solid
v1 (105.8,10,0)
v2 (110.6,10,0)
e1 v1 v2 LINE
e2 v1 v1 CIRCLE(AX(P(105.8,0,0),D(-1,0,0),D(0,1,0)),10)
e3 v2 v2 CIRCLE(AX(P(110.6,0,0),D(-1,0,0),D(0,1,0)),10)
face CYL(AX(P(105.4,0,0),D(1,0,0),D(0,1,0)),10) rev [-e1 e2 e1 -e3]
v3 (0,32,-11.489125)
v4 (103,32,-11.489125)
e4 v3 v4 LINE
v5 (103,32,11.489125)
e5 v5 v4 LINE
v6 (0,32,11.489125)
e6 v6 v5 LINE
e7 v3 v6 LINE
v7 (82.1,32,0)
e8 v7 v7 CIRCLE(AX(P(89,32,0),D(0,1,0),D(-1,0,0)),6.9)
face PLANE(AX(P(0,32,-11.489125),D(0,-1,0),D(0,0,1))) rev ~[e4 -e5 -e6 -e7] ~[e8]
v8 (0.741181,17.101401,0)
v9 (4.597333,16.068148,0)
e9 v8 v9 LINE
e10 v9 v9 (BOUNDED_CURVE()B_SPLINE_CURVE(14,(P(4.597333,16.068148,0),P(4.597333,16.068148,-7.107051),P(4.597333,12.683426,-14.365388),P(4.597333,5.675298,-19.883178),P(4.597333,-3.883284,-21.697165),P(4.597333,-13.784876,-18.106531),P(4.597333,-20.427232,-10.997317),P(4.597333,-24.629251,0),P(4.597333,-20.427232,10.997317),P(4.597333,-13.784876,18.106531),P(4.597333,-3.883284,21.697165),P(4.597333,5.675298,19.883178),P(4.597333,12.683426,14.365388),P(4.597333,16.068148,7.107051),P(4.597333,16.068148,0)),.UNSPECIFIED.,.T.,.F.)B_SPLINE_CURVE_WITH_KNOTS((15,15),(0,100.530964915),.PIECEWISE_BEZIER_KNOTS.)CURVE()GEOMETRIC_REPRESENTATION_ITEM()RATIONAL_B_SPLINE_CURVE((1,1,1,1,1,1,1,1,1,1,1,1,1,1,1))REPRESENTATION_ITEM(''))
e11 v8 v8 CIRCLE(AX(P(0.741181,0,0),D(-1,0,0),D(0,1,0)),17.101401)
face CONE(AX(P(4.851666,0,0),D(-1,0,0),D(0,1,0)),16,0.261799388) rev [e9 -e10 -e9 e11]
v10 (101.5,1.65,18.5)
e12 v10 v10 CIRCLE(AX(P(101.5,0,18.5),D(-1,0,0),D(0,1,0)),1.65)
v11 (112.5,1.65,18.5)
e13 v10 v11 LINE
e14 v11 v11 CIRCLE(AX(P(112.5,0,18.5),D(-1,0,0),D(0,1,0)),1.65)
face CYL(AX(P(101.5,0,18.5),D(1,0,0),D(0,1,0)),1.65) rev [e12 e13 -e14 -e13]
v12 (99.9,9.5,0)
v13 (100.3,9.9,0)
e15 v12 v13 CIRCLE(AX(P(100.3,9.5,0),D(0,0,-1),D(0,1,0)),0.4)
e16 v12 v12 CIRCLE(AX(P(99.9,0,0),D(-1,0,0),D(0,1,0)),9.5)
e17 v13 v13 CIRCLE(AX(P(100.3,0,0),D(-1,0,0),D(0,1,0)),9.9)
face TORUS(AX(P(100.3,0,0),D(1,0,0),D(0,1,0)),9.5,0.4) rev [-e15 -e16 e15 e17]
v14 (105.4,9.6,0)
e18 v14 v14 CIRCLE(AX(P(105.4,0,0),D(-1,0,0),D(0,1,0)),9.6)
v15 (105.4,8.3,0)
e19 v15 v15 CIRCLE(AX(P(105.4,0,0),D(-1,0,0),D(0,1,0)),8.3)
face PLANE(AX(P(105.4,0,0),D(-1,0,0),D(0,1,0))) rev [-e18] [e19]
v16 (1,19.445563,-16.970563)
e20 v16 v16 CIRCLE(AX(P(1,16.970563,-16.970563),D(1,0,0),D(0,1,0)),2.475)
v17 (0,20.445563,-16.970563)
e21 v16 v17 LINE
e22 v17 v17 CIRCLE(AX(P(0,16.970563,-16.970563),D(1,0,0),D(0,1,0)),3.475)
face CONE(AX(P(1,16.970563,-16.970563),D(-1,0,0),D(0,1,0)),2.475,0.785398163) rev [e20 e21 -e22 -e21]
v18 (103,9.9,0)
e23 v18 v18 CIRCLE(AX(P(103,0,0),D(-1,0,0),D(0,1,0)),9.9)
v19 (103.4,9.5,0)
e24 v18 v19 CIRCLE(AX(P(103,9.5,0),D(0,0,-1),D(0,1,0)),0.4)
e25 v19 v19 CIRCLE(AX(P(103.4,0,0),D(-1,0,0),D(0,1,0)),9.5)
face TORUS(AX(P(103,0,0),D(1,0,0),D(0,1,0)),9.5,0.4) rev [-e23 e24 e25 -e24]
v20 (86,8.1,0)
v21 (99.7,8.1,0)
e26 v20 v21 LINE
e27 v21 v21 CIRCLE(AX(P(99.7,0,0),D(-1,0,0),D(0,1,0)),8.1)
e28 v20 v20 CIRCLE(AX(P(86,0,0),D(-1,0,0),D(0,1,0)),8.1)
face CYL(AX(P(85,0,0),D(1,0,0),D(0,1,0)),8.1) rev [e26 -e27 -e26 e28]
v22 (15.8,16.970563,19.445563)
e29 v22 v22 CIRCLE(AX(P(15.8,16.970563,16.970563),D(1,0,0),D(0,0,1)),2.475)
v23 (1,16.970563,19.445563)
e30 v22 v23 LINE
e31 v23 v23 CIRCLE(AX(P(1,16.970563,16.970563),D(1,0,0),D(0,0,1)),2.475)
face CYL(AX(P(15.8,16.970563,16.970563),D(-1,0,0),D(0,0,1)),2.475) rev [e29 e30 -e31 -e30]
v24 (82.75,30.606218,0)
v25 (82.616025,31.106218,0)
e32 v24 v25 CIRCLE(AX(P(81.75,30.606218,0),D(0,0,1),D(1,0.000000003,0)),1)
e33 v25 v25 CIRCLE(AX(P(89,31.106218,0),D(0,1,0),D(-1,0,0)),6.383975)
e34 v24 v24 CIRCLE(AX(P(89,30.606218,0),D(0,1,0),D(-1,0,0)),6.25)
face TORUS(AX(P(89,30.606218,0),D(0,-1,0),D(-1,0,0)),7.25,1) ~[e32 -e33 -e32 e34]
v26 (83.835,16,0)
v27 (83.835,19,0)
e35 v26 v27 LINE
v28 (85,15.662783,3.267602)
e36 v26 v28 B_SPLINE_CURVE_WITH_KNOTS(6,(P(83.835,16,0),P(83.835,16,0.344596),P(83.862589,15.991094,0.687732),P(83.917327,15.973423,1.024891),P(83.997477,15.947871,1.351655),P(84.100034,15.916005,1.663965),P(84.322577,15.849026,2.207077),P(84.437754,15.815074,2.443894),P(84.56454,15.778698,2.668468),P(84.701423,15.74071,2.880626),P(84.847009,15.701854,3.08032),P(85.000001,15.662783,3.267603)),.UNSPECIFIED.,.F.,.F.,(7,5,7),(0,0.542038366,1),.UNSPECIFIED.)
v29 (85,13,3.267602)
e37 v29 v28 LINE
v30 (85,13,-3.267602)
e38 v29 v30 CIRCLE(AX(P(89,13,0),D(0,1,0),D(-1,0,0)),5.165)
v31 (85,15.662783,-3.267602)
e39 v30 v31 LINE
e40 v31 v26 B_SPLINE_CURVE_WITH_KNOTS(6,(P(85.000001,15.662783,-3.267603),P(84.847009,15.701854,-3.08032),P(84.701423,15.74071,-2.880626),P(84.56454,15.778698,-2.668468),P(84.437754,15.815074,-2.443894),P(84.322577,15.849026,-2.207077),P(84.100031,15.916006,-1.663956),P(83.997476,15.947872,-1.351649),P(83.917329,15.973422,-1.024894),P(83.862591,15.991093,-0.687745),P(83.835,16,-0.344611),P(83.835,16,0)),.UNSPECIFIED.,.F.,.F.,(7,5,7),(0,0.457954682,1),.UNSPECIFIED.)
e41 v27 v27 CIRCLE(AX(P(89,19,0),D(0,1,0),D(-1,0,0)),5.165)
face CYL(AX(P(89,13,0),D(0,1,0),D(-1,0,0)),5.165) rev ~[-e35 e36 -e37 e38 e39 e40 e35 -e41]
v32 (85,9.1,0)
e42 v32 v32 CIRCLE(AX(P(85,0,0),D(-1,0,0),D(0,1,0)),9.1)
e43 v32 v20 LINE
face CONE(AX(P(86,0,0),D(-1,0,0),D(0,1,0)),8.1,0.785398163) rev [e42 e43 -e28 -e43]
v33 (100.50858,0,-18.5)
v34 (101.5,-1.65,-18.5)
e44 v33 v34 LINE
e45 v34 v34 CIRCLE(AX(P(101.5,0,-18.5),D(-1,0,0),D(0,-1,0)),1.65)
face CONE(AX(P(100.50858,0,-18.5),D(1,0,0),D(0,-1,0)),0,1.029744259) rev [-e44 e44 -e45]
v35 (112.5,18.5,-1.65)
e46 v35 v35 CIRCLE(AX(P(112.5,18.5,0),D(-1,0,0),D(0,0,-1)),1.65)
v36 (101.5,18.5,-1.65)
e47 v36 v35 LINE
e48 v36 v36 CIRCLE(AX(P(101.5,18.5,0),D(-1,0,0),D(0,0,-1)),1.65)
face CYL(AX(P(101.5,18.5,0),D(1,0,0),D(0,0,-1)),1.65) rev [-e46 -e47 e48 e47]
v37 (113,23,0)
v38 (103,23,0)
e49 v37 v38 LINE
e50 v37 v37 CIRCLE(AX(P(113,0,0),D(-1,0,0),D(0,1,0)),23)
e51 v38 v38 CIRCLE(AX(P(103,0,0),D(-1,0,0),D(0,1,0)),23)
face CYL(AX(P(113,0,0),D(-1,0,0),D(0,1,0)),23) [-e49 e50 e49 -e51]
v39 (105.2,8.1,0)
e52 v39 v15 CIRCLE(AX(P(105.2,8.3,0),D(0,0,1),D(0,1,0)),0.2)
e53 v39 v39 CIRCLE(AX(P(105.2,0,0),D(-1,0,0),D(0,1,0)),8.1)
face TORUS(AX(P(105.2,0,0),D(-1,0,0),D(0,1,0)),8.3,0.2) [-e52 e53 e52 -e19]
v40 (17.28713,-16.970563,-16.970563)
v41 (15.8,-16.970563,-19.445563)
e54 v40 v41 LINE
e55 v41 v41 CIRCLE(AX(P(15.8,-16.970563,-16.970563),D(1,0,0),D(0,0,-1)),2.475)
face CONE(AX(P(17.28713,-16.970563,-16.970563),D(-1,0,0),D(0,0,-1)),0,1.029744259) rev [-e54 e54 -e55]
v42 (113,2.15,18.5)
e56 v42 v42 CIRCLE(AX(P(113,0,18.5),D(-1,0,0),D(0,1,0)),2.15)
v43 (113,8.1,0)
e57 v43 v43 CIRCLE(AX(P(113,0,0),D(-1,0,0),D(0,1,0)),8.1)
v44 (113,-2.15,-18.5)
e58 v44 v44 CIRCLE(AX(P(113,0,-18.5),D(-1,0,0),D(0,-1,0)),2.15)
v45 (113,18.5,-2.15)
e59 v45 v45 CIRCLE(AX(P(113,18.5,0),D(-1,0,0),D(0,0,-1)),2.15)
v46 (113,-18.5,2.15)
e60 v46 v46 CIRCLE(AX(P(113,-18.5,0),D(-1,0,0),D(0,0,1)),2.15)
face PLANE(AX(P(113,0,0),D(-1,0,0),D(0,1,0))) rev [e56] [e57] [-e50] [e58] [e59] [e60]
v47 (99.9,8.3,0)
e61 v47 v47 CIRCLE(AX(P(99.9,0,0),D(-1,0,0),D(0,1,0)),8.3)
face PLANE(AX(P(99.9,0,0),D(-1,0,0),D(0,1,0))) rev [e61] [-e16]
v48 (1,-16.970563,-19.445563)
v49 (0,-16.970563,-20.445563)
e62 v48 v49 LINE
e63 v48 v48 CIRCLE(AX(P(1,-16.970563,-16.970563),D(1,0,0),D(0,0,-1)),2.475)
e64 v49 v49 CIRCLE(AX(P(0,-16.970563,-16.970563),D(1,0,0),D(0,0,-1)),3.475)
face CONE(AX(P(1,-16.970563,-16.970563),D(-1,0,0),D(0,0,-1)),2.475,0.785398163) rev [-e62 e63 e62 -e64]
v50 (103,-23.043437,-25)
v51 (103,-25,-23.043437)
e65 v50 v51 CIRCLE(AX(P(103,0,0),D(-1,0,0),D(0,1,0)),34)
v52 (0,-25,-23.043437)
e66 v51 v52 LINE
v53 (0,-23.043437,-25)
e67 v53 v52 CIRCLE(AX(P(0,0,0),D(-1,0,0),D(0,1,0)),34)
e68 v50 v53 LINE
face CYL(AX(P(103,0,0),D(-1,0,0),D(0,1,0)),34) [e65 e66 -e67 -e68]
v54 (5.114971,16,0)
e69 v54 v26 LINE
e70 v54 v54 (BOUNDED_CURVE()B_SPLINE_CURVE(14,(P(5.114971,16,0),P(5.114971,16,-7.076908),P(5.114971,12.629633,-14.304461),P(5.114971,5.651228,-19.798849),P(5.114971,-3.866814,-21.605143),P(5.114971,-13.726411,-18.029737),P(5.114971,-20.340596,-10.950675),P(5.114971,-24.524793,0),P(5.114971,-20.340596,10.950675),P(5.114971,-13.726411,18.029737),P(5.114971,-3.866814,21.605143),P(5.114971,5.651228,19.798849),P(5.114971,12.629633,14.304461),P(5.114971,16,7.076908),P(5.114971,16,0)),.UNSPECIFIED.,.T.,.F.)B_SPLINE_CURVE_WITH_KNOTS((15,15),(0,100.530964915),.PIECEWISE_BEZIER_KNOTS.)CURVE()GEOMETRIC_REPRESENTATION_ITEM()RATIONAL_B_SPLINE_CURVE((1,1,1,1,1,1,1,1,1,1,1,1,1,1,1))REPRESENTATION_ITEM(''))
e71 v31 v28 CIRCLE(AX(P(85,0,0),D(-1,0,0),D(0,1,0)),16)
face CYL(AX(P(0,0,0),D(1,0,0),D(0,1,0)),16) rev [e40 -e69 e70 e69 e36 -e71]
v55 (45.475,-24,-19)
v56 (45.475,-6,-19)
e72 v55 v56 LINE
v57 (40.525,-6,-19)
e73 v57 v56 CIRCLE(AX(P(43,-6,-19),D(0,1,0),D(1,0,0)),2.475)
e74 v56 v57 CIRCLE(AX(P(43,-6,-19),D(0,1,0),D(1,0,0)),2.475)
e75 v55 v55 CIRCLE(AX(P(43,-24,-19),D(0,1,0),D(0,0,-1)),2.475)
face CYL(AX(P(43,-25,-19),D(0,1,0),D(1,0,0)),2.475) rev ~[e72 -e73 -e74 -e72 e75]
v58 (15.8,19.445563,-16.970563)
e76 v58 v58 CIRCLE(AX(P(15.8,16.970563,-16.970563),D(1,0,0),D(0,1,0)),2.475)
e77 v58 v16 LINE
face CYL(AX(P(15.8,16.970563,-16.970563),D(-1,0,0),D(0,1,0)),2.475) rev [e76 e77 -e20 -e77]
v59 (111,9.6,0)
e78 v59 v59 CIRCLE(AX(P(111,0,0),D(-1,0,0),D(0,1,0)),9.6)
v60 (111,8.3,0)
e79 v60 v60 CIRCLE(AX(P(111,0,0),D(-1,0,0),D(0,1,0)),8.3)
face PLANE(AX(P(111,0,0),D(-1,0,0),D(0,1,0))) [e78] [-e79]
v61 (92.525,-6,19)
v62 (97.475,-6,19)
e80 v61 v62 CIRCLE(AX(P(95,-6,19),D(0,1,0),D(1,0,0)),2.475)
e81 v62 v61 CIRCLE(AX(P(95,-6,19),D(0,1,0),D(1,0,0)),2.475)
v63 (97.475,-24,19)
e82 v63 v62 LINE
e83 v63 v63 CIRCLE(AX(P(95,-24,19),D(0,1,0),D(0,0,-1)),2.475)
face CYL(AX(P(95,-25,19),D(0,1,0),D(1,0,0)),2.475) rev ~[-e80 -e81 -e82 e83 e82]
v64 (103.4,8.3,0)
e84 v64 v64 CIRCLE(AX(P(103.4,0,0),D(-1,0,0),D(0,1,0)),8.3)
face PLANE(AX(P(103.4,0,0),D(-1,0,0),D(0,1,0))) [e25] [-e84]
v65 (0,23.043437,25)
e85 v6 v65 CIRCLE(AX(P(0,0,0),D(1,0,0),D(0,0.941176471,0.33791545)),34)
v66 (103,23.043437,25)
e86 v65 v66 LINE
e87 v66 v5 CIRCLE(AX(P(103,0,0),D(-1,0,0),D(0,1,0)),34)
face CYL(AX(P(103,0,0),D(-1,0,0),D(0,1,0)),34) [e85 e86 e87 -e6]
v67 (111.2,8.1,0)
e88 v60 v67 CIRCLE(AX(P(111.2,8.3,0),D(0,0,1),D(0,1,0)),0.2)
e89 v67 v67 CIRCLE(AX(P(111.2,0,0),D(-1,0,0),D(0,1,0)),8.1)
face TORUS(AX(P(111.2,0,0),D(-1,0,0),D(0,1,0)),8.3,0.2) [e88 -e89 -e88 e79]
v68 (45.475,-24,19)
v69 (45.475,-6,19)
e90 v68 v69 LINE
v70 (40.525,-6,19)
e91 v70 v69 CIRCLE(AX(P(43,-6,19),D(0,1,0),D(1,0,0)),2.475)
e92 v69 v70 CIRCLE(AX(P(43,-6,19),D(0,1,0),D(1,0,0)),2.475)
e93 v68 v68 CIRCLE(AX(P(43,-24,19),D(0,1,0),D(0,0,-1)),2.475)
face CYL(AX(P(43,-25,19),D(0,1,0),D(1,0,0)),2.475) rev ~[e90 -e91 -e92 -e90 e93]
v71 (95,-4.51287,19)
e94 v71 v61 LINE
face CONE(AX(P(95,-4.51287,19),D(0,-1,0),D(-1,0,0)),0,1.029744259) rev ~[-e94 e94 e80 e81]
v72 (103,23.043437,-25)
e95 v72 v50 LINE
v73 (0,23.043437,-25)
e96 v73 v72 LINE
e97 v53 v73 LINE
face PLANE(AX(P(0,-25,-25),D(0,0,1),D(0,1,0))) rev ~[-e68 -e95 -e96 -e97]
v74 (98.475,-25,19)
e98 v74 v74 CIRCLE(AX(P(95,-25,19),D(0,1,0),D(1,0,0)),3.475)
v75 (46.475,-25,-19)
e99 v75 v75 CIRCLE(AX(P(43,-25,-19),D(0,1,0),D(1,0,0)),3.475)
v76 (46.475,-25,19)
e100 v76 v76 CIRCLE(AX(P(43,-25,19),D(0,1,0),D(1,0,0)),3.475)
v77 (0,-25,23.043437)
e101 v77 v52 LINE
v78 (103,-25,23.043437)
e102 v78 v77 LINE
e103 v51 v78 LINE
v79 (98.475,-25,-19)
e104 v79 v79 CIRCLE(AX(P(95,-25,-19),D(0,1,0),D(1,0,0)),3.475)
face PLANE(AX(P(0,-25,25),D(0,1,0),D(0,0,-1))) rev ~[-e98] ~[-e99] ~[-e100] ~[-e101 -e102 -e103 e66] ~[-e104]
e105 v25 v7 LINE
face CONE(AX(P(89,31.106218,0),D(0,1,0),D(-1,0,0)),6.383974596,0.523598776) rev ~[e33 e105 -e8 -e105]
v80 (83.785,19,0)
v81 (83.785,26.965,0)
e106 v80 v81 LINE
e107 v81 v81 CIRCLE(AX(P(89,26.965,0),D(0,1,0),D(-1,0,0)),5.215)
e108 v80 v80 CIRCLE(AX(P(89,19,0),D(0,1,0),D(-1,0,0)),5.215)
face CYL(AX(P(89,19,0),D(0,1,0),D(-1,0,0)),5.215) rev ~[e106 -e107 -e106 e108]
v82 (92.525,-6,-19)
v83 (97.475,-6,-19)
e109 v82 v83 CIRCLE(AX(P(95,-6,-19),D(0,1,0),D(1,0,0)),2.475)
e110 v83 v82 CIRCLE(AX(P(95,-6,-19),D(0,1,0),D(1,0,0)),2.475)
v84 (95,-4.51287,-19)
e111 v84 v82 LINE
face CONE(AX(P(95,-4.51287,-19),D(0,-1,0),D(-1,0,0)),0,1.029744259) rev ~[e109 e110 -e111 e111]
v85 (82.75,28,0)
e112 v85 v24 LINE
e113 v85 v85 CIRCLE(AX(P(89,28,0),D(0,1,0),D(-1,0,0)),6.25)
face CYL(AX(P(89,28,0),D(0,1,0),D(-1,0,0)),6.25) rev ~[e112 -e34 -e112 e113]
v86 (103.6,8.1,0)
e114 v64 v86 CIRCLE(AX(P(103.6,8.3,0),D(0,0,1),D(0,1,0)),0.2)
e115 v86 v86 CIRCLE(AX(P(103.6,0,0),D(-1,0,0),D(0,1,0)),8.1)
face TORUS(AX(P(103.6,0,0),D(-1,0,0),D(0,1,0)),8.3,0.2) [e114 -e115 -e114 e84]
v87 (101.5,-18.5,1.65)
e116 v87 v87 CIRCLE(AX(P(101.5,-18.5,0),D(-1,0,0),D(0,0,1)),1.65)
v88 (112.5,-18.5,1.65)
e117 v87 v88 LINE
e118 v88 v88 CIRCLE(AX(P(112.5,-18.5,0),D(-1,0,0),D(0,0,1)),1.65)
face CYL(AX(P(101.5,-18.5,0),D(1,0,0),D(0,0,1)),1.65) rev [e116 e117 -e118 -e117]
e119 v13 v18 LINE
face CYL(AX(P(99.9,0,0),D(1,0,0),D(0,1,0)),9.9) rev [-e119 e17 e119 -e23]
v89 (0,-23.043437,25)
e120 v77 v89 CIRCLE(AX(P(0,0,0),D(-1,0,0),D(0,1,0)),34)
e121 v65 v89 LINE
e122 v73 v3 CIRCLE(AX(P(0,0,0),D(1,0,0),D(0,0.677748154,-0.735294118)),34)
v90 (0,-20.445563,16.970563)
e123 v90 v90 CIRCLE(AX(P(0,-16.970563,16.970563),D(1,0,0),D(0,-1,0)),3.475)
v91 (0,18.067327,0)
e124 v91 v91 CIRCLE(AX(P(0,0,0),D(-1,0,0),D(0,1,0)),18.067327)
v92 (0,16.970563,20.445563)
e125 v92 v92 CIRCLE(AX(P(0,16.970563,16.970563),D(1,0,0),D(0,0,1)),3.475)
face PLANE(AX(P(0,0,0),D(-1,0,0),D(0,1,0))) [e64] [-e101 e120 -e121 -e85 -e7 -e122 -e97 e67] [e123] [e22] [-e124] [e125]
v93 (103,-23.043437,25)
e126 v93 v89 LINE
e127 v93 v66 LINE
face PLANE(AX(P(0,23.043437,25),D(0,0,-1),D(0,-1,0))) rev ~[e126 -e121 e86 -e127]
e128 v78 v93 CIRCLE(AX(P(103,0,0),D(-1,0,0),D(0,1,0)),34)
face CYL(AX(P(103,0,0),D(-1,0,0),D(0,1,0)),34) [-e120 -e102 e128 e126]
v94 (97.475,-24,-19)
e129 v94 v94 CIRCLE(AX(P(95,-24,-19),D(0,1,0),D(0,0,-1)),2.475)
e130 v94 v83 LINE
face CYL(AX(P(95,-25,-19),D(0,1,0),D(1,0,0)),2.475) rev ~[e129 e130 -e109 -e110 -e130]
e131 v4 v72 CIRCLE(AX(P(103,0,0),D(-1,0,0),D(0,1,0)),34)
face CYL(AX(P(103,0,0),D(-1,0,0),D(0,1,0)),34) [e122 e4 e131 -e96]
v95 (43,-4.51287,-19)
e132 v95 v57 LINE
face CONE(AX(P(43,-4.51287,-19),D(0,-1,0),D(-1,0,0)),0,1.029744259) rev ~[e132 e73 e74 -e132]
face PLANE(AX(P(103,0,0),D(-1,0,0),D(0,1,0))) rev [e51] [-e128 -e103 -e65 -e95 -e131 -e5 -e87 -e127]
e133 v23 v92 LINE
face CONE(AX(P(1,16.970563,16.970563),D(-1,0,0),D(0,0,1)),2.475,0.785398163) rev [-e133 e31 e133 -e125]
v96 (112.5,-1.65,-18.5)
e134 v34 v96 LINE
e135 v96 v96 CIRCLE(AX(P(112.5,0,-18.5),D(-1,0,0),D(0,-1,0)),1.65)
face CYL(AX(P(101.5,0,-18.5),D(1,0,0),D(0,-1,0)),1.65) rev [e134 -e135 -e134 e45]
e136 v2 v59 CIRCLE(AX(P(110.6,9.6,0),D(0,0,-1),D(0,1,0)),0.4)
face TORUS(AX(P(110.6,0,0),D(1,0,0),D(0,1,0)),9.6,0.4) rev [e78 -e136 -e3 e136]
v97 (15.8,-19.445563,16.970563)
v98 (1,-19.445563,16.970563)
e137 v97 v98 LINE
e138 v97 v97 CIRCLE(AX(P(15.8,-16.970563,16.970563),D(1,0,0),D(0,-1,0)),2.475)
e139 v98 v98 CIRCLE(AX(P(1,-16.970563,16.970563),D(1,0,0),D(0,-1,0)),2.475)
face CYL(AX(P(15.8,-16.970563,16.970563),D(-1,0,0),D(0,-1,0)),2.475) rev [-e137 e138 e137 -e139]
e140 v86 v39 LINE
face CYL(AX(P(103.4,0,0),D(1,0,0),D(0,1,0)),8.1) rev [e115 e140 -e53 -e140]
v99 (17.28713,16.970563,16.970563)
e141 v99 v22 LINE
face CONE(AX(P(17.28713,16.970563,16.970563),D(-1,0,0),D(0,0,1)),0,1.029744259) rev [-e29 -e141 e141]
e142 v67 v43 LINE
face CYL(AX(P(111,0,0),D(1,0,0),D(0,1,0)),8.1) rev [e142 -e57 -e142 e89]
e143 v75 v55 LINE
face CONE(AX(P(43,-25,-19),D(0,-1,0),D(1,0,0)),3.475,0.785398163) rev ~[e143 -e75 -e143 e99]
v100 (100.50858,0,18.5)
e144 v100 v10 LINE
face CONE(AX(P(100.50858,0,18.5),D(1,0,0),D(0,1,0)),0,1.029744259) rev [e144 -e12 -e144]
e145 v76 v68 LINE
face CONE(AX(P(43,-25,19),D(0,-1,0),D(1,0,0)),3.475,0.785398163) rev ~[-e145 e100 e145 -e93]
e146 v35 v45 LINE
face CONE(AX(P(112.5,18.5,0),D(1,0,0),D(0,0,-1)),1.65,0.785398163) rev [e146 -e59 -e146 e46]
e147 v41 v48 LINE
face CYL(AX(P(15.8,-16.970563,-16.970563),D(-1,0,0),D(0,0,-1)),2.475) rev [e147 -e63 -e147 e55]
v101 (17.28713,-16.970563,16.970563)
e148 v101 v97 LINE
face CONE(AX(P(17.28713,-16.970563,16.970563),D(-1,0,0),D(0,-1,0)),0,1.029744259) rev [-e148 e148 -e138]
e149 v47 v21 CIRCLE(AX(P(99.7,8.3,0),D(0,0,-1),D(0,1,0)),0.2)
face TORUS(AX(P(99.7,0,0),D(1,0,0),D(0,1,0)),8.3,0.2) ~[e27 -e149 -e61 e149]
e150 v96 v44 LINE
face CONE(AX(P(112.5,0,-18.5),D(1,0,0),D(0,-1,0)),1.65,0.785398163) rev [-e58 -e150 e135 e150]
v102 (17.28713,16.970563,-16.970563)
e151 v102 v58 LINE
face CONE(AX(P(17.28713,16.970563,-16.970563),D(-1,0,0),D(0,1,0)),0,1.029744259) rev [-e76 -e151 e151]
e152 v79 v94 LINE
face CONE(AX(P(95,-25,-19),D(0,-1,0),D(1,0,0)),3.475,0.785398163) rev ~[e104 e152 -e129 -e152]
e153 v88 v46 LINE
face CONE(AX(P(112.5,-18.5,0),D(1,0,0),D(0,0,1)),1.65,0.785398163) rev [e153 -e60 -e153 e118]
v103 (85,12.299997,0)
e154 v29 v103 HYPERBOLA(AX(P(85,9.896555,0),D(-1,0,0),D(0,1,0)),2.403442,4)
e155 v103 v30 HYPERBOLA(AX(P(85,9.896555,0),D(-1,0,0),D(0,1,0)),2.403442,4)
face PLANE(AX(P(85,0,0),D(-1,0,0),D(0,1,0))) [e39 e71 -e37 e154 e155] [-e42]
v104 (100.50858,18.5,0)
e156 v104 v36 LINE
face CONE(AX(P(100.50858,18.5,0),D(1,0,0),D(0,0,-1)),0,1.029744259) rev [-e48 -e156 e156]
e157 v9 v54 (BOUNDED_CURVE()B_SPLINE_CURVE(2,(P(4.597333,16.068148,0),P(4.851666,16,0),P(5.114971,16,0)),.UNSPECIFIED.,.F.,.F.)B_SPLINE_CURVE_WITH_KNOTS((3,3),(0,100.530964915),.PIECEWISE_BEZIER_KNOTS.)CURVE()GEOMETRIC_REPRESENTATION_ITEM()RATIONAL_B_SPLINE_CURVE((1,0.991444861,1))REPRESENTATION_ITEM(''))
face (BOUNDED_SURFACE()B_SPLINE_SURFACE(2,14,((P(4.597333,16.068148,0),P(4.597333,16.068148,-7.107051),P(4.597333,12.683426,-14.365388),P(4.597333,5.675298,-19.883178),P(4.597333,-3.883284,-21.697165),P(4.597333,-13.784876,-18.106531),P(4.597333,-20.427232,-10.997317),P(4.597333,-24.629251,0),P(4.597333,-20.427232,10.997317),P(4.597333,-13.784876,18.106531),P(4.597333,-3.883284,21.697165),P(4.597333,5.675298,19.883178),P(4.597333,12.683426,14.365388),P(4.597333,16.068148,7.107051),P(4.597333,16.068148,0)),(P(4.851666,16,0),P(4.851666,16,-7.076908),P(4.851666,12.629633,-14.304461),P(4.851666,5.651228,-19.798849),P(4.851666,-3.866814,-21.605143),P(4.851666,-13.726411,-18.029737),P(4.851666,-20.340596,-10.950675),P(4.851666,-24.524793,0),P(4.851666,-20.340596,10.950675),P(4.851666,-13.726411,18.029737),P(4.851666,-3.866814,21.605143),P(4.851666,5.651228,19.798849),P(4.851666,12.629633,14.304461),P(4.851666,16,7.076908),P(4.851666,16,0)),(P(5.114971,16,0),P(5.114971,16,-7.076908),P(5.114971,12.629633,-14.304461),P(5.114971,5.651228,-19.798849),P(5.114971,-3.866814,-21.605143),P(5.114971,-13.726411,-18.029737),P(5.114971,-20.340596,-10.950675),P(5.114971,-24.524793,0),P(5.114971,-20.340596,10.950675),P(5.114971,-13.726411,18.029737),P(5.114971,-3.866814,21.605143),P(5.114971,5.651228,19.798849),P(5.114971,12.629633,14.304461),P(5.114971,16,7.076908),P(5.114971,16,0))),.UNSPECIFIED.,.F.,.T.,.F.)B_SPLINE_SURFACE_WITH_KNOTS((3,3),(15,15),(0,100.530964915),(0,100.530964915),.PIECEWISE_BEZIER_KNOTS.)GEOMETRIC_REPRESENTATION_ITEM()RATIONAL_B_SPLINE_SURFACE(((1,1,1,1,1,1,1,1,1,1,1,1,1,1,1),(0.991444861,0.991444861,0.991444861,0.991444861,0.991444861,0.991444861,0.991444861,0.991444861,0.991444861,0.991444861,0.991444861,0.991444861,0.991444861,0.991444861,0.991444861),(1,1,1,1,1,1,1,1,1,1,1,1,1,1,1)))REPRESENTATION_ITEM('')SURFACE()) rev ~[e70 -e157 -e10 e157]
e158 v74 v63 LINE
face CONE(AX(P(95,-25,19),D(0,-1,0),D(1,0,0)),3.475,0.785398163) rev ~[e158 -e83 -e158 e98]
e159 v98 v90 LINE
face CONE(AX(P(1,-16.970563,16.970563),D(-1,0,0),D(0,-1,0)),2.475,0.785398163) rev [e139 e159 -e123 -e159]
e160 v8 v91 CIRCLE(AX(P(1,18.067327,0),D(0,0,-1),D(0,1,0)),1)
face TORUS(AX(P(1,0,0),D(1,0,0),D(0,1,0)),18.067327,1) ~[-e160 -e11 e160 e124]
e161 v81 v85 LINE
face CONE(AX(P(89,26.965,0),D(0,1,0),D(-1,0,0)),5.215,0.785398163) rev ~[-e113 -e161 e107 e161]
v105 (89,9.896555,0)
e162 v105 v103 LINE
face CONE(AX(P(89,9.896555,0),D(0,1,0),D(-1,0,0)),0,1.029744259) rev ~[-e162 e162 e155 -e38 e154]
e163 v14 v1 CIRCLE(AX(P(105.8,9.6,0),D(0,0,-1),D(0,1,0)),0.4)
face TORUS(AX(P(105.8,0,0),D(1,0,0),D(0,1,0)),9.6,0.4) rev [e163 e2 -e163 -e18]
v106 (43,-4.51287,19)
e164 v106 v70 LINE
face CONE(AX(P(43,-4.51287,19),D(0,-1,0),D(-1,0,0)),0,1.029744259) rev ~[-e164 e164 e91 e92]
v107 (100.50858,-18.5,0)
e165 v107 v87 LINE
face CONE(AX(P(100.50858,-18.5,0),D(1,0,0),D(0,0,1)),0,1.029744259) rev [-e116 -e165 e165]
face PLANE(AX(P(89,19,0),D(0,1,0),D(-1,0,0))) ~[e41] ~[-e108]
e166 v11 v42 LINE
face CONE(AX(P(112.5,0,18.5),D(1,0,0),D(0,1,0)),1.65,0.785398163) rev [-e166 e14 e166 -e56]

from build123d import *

# Parameters (mm, degrees)
SKETCH_2_OUTSIDE_W          = 99.676
SKETCH_2_OUTSIDE_H          = 99.676
CUT_EXTRUDE_1_DEPTH         = 114
CHAMFER_1_SIZE              = 1.3
CHAMFER_1_SIZE2             = 4.85166605
FILLET_1_R                  = 2
FILLET_2_R                  = 1
PATTERN_CIRCULAR_1_COUNT    = 4
HOLE_WIZARD_M63_D           = 4.95
HOLE_WIZARD_M63_DEPTH       = 19
HOLE_WIZARD_M63_CSINK_D     = 6.95
HOLE_WIZARD_M63_CSINK_ANGLE = 90
HOLE_WIZARD_M63_TIP         = 1.487130032
PATTERN_CIRCULAR_2_COUNT    = 4
CHAMFER_2_SIZE              = 1
FILLET_3_R                  = 0.4
FILLET_4_R                  = 0.2


with BuildPart() as part:
    # Эскиз1 → Повернуть1 (revolve)
    with BuildSketch(Plane.XY):
        Polygon((0, 34), (0, 16), (85, 16), (85, 8.1), (99.9, 8.1), (99.9, 9.9), (103.4, 9.9), (103.4, 8.1), (105.4, 8.1), (105.4, 10), (111, 10), (111, 8.1), (113, 8.1), (113, 23), (103, 23), (103, 34), align=None)
    revolve(axis=Axis((0, 0, 0), (-1, 0, 0)))

    # Эскиз2 outside → Вырез-Вытянуть1 (cut, through all)
    with BuildSketch(Plane.ZY):
        Rectangle(SKETCH_2_OUTSIDE_W, SKETCH_2_OUTSIDE_H)
        with BuildLine():
            Line((-11.489125293, 32), (11.489125293, 32))
            ThreePointArc((11.489125293, 32), (18.786140377, 28.338682569), (25, 23.043437244))
            Line((25, 23.043437244), (25, -25))
            Line((25, -25), (-25, -25))
            Line((-25, -25), (-25, 23.043437244))
            ThreePointArc((-25, 23.043437244), (-18.786140377, 28.338682569), (-11.489125293, 32))
        make_face(mode=Mode.SUBTRACT)
    extrude(amount=-CUT_EXTRUDE_1_DEPTH, mode=Mode.SUBTRACT)

    # Фаска1
    chamfer_1_edges = [part.edges().sort_by_distance(p)[0] for p in [
        (0, -16, 0),
    ]]
    chamfer_1_side = [part.faces().sort_by_distance(p)[0] for p in [
        (0, 31.241778397, 0),
    ]]
    chamfer(chamfer_1_edges, length=CHAMFER_1_SIZE, length2=CHAMFER_1_SIZE2, reference=chamfer_1_side[0])

    # Скругление1
    fillet_1_edges = [part.edges().sort_by_distance(p)[0] for p in [
        (4.85166605, -16, 0),
    ]]
    fillet(fillet_1_edges, radius=FILLET_1_R)

    # Скругление2
    fillet_2_edges = [part.edges().sort_by_distance(p)[0] for p in [
        (0, -17.3, 0),
    ]]
    fillet(fillet_2_edges, radius=FILLET_2_R)

    # Эскиз5 → Отверстие обработанное метчиком M64 (revolve, cut)
    with BuildSketch(Plane(origin=(0, 16.970562748, 16.970562748), x_dir=(0, 0, 1), z_dir=(0, 1, 0))):
        Polygon((0, 0), (0, 17.287130032), (2.475, 15.8), (2.475, 1), (3.475, 0), align=None)
    hole_wizard_m64 = revolve(axis=Axis((-6.35, 16.970562748, 16.970562748), (1, 0, 0)), mode=Mode.SUBTRACT)

    # Круговой массив1: Отверстие обработанное метчиком M64 ×4 about axis
    pattern_circular_1_axis = Axis((0, 0, 0), (1, 0, 0))
    for i in range(1, PATTERN_CIRCULAR_1_COUNT):
        add(hole_wizard_m64.rotate(pattern_circular_1_axis, i * 360 / PATTERN_CIRCULAR_1_COUNT), mode=Mode.SUBTRACT)

    # Отверстие обработанное метчиком M63
    with Locations(Plane(origin=(0, -25, 0), x_dir=(-1, 0, 0), z_dir=(0, -1, 0))):
        with Locations((-95, -19), (-95, 19), (-43, 19), (-43, -19)):
            CounterSinkHole(HOLE_WIZARD_M63_D / 2, HOLE_WIZARD_M63_CSINK_D / 2, depth=HOLE_WIZARD_M63_DEPTH, counter_sink_angle=HOLE_WIZARD_M63_CSINK_ANGLE)
            with Locations((0, 0, -(HOLE_WIZARD_M63_DEPTH + HOLE_WIZARD_M63_TIP / 2))):  # 118° drill point
                Cone(0, HOLE_WIZARD_M63_D / 2, HOLE_WIZARD_M63_TIP, mode=Mode.SUBTRACT)

    # Sketch2 → Cut-Revolve1 (revolve, cut)
    with BuildSketch(Plane(origin=(89, 32, 0), x_dir=(1, 0, 0), z_dir=(0, 0, 1))):
        with BuildLine():
            Line((0, 0), (0, -22.103445097))
            Line((0, -22.103445097), (-5.165, -19))
            Line((-5.165, -19), (-5.165, -13))
            Line((-5.165, -13), (-5.215, -13))
            Line((-5.215, -13), (-5.215, -5.035))
            Line((-5.215, -5.035), (-6.25, -4))
            Line((-6.25, -4), (-6.25, -1.393782217))
            ThreePointArc((-6.25, -1.393782217), (-6.284074174, -1.134963172), (-6.383974596, -0.893782217))
            Line((-6.383974596, -0.893782217), (-6.9, 0))
            Line((-6.9, 0), (0, 0))
        make_face()
    revolve(axis=Axis((89, 32, 0), (0, 1, 0)), mode=Mode.SUBTRACT)

    # Эскиз12 → Отверстие обработанное метчиком M42 (revolve, cut)
    with BuildSketch(Plane(origin=(113, 18.5, 0), x_dir=(0, 0, -1), z_dir=(0, 1, 0))):
        Polygon((0, 0), (0, 12.491420021), (1.65, 11.5), (1.65, 0.5), (2.15, 0), align=None)
    hole_wizard_m42 = revolve(axis=Axis((119.35, 18.5, 0), (-1, 0, 0)), mode=Mode.SUBTRACT)

    # Круговой массив2: Отверстие обработанное метчиком M42 ×4 about axis
    pattern_circular_2_axis = Axis((0, 0, 0), (1, 0, 0))
    for i in range(1, PATTERN_CIRCULAR_2_COUNT):
        add(hole_wizard_m42.rotate(pattern_circular_2_axis, i * 360 / PATTERN_CIRCULAR_2_COUNT), mode=Mode.SUBTRACT)

    # Фаска2
    chamfer_2_edges = [part.edges().sort_by_distance(p)[0] for p in [
        (85, -8.1, 0),
    ]]
    chamfer(chamfer_2_edges, length=CHAMFER_2_SIZE)

    # Скругление3
    fillet_3_edges = [part.edges().sort_by_distance(p)[0] for p in [
        (111, -10, 0),
        (105.4, -10, 0),
        (103.4, -9.9, 0),
        (99.9, -9.9, 0),
    ]]
    fillet(fillet_3_edges, radius=FILLET_3_R)

    # Скругление4
    fillet_4_edges = [part.edges().sort_by_distance(p)[0] for p in [
        (111, -8.1, 0),
        (105.4, -8.1, 0),
        (103.4, -8.1, 0),
        (99.9, -8.1, 0),
    ]]
    fillet(fillet_4_edges, radius=FILLET_4_R)


solid = part.part
